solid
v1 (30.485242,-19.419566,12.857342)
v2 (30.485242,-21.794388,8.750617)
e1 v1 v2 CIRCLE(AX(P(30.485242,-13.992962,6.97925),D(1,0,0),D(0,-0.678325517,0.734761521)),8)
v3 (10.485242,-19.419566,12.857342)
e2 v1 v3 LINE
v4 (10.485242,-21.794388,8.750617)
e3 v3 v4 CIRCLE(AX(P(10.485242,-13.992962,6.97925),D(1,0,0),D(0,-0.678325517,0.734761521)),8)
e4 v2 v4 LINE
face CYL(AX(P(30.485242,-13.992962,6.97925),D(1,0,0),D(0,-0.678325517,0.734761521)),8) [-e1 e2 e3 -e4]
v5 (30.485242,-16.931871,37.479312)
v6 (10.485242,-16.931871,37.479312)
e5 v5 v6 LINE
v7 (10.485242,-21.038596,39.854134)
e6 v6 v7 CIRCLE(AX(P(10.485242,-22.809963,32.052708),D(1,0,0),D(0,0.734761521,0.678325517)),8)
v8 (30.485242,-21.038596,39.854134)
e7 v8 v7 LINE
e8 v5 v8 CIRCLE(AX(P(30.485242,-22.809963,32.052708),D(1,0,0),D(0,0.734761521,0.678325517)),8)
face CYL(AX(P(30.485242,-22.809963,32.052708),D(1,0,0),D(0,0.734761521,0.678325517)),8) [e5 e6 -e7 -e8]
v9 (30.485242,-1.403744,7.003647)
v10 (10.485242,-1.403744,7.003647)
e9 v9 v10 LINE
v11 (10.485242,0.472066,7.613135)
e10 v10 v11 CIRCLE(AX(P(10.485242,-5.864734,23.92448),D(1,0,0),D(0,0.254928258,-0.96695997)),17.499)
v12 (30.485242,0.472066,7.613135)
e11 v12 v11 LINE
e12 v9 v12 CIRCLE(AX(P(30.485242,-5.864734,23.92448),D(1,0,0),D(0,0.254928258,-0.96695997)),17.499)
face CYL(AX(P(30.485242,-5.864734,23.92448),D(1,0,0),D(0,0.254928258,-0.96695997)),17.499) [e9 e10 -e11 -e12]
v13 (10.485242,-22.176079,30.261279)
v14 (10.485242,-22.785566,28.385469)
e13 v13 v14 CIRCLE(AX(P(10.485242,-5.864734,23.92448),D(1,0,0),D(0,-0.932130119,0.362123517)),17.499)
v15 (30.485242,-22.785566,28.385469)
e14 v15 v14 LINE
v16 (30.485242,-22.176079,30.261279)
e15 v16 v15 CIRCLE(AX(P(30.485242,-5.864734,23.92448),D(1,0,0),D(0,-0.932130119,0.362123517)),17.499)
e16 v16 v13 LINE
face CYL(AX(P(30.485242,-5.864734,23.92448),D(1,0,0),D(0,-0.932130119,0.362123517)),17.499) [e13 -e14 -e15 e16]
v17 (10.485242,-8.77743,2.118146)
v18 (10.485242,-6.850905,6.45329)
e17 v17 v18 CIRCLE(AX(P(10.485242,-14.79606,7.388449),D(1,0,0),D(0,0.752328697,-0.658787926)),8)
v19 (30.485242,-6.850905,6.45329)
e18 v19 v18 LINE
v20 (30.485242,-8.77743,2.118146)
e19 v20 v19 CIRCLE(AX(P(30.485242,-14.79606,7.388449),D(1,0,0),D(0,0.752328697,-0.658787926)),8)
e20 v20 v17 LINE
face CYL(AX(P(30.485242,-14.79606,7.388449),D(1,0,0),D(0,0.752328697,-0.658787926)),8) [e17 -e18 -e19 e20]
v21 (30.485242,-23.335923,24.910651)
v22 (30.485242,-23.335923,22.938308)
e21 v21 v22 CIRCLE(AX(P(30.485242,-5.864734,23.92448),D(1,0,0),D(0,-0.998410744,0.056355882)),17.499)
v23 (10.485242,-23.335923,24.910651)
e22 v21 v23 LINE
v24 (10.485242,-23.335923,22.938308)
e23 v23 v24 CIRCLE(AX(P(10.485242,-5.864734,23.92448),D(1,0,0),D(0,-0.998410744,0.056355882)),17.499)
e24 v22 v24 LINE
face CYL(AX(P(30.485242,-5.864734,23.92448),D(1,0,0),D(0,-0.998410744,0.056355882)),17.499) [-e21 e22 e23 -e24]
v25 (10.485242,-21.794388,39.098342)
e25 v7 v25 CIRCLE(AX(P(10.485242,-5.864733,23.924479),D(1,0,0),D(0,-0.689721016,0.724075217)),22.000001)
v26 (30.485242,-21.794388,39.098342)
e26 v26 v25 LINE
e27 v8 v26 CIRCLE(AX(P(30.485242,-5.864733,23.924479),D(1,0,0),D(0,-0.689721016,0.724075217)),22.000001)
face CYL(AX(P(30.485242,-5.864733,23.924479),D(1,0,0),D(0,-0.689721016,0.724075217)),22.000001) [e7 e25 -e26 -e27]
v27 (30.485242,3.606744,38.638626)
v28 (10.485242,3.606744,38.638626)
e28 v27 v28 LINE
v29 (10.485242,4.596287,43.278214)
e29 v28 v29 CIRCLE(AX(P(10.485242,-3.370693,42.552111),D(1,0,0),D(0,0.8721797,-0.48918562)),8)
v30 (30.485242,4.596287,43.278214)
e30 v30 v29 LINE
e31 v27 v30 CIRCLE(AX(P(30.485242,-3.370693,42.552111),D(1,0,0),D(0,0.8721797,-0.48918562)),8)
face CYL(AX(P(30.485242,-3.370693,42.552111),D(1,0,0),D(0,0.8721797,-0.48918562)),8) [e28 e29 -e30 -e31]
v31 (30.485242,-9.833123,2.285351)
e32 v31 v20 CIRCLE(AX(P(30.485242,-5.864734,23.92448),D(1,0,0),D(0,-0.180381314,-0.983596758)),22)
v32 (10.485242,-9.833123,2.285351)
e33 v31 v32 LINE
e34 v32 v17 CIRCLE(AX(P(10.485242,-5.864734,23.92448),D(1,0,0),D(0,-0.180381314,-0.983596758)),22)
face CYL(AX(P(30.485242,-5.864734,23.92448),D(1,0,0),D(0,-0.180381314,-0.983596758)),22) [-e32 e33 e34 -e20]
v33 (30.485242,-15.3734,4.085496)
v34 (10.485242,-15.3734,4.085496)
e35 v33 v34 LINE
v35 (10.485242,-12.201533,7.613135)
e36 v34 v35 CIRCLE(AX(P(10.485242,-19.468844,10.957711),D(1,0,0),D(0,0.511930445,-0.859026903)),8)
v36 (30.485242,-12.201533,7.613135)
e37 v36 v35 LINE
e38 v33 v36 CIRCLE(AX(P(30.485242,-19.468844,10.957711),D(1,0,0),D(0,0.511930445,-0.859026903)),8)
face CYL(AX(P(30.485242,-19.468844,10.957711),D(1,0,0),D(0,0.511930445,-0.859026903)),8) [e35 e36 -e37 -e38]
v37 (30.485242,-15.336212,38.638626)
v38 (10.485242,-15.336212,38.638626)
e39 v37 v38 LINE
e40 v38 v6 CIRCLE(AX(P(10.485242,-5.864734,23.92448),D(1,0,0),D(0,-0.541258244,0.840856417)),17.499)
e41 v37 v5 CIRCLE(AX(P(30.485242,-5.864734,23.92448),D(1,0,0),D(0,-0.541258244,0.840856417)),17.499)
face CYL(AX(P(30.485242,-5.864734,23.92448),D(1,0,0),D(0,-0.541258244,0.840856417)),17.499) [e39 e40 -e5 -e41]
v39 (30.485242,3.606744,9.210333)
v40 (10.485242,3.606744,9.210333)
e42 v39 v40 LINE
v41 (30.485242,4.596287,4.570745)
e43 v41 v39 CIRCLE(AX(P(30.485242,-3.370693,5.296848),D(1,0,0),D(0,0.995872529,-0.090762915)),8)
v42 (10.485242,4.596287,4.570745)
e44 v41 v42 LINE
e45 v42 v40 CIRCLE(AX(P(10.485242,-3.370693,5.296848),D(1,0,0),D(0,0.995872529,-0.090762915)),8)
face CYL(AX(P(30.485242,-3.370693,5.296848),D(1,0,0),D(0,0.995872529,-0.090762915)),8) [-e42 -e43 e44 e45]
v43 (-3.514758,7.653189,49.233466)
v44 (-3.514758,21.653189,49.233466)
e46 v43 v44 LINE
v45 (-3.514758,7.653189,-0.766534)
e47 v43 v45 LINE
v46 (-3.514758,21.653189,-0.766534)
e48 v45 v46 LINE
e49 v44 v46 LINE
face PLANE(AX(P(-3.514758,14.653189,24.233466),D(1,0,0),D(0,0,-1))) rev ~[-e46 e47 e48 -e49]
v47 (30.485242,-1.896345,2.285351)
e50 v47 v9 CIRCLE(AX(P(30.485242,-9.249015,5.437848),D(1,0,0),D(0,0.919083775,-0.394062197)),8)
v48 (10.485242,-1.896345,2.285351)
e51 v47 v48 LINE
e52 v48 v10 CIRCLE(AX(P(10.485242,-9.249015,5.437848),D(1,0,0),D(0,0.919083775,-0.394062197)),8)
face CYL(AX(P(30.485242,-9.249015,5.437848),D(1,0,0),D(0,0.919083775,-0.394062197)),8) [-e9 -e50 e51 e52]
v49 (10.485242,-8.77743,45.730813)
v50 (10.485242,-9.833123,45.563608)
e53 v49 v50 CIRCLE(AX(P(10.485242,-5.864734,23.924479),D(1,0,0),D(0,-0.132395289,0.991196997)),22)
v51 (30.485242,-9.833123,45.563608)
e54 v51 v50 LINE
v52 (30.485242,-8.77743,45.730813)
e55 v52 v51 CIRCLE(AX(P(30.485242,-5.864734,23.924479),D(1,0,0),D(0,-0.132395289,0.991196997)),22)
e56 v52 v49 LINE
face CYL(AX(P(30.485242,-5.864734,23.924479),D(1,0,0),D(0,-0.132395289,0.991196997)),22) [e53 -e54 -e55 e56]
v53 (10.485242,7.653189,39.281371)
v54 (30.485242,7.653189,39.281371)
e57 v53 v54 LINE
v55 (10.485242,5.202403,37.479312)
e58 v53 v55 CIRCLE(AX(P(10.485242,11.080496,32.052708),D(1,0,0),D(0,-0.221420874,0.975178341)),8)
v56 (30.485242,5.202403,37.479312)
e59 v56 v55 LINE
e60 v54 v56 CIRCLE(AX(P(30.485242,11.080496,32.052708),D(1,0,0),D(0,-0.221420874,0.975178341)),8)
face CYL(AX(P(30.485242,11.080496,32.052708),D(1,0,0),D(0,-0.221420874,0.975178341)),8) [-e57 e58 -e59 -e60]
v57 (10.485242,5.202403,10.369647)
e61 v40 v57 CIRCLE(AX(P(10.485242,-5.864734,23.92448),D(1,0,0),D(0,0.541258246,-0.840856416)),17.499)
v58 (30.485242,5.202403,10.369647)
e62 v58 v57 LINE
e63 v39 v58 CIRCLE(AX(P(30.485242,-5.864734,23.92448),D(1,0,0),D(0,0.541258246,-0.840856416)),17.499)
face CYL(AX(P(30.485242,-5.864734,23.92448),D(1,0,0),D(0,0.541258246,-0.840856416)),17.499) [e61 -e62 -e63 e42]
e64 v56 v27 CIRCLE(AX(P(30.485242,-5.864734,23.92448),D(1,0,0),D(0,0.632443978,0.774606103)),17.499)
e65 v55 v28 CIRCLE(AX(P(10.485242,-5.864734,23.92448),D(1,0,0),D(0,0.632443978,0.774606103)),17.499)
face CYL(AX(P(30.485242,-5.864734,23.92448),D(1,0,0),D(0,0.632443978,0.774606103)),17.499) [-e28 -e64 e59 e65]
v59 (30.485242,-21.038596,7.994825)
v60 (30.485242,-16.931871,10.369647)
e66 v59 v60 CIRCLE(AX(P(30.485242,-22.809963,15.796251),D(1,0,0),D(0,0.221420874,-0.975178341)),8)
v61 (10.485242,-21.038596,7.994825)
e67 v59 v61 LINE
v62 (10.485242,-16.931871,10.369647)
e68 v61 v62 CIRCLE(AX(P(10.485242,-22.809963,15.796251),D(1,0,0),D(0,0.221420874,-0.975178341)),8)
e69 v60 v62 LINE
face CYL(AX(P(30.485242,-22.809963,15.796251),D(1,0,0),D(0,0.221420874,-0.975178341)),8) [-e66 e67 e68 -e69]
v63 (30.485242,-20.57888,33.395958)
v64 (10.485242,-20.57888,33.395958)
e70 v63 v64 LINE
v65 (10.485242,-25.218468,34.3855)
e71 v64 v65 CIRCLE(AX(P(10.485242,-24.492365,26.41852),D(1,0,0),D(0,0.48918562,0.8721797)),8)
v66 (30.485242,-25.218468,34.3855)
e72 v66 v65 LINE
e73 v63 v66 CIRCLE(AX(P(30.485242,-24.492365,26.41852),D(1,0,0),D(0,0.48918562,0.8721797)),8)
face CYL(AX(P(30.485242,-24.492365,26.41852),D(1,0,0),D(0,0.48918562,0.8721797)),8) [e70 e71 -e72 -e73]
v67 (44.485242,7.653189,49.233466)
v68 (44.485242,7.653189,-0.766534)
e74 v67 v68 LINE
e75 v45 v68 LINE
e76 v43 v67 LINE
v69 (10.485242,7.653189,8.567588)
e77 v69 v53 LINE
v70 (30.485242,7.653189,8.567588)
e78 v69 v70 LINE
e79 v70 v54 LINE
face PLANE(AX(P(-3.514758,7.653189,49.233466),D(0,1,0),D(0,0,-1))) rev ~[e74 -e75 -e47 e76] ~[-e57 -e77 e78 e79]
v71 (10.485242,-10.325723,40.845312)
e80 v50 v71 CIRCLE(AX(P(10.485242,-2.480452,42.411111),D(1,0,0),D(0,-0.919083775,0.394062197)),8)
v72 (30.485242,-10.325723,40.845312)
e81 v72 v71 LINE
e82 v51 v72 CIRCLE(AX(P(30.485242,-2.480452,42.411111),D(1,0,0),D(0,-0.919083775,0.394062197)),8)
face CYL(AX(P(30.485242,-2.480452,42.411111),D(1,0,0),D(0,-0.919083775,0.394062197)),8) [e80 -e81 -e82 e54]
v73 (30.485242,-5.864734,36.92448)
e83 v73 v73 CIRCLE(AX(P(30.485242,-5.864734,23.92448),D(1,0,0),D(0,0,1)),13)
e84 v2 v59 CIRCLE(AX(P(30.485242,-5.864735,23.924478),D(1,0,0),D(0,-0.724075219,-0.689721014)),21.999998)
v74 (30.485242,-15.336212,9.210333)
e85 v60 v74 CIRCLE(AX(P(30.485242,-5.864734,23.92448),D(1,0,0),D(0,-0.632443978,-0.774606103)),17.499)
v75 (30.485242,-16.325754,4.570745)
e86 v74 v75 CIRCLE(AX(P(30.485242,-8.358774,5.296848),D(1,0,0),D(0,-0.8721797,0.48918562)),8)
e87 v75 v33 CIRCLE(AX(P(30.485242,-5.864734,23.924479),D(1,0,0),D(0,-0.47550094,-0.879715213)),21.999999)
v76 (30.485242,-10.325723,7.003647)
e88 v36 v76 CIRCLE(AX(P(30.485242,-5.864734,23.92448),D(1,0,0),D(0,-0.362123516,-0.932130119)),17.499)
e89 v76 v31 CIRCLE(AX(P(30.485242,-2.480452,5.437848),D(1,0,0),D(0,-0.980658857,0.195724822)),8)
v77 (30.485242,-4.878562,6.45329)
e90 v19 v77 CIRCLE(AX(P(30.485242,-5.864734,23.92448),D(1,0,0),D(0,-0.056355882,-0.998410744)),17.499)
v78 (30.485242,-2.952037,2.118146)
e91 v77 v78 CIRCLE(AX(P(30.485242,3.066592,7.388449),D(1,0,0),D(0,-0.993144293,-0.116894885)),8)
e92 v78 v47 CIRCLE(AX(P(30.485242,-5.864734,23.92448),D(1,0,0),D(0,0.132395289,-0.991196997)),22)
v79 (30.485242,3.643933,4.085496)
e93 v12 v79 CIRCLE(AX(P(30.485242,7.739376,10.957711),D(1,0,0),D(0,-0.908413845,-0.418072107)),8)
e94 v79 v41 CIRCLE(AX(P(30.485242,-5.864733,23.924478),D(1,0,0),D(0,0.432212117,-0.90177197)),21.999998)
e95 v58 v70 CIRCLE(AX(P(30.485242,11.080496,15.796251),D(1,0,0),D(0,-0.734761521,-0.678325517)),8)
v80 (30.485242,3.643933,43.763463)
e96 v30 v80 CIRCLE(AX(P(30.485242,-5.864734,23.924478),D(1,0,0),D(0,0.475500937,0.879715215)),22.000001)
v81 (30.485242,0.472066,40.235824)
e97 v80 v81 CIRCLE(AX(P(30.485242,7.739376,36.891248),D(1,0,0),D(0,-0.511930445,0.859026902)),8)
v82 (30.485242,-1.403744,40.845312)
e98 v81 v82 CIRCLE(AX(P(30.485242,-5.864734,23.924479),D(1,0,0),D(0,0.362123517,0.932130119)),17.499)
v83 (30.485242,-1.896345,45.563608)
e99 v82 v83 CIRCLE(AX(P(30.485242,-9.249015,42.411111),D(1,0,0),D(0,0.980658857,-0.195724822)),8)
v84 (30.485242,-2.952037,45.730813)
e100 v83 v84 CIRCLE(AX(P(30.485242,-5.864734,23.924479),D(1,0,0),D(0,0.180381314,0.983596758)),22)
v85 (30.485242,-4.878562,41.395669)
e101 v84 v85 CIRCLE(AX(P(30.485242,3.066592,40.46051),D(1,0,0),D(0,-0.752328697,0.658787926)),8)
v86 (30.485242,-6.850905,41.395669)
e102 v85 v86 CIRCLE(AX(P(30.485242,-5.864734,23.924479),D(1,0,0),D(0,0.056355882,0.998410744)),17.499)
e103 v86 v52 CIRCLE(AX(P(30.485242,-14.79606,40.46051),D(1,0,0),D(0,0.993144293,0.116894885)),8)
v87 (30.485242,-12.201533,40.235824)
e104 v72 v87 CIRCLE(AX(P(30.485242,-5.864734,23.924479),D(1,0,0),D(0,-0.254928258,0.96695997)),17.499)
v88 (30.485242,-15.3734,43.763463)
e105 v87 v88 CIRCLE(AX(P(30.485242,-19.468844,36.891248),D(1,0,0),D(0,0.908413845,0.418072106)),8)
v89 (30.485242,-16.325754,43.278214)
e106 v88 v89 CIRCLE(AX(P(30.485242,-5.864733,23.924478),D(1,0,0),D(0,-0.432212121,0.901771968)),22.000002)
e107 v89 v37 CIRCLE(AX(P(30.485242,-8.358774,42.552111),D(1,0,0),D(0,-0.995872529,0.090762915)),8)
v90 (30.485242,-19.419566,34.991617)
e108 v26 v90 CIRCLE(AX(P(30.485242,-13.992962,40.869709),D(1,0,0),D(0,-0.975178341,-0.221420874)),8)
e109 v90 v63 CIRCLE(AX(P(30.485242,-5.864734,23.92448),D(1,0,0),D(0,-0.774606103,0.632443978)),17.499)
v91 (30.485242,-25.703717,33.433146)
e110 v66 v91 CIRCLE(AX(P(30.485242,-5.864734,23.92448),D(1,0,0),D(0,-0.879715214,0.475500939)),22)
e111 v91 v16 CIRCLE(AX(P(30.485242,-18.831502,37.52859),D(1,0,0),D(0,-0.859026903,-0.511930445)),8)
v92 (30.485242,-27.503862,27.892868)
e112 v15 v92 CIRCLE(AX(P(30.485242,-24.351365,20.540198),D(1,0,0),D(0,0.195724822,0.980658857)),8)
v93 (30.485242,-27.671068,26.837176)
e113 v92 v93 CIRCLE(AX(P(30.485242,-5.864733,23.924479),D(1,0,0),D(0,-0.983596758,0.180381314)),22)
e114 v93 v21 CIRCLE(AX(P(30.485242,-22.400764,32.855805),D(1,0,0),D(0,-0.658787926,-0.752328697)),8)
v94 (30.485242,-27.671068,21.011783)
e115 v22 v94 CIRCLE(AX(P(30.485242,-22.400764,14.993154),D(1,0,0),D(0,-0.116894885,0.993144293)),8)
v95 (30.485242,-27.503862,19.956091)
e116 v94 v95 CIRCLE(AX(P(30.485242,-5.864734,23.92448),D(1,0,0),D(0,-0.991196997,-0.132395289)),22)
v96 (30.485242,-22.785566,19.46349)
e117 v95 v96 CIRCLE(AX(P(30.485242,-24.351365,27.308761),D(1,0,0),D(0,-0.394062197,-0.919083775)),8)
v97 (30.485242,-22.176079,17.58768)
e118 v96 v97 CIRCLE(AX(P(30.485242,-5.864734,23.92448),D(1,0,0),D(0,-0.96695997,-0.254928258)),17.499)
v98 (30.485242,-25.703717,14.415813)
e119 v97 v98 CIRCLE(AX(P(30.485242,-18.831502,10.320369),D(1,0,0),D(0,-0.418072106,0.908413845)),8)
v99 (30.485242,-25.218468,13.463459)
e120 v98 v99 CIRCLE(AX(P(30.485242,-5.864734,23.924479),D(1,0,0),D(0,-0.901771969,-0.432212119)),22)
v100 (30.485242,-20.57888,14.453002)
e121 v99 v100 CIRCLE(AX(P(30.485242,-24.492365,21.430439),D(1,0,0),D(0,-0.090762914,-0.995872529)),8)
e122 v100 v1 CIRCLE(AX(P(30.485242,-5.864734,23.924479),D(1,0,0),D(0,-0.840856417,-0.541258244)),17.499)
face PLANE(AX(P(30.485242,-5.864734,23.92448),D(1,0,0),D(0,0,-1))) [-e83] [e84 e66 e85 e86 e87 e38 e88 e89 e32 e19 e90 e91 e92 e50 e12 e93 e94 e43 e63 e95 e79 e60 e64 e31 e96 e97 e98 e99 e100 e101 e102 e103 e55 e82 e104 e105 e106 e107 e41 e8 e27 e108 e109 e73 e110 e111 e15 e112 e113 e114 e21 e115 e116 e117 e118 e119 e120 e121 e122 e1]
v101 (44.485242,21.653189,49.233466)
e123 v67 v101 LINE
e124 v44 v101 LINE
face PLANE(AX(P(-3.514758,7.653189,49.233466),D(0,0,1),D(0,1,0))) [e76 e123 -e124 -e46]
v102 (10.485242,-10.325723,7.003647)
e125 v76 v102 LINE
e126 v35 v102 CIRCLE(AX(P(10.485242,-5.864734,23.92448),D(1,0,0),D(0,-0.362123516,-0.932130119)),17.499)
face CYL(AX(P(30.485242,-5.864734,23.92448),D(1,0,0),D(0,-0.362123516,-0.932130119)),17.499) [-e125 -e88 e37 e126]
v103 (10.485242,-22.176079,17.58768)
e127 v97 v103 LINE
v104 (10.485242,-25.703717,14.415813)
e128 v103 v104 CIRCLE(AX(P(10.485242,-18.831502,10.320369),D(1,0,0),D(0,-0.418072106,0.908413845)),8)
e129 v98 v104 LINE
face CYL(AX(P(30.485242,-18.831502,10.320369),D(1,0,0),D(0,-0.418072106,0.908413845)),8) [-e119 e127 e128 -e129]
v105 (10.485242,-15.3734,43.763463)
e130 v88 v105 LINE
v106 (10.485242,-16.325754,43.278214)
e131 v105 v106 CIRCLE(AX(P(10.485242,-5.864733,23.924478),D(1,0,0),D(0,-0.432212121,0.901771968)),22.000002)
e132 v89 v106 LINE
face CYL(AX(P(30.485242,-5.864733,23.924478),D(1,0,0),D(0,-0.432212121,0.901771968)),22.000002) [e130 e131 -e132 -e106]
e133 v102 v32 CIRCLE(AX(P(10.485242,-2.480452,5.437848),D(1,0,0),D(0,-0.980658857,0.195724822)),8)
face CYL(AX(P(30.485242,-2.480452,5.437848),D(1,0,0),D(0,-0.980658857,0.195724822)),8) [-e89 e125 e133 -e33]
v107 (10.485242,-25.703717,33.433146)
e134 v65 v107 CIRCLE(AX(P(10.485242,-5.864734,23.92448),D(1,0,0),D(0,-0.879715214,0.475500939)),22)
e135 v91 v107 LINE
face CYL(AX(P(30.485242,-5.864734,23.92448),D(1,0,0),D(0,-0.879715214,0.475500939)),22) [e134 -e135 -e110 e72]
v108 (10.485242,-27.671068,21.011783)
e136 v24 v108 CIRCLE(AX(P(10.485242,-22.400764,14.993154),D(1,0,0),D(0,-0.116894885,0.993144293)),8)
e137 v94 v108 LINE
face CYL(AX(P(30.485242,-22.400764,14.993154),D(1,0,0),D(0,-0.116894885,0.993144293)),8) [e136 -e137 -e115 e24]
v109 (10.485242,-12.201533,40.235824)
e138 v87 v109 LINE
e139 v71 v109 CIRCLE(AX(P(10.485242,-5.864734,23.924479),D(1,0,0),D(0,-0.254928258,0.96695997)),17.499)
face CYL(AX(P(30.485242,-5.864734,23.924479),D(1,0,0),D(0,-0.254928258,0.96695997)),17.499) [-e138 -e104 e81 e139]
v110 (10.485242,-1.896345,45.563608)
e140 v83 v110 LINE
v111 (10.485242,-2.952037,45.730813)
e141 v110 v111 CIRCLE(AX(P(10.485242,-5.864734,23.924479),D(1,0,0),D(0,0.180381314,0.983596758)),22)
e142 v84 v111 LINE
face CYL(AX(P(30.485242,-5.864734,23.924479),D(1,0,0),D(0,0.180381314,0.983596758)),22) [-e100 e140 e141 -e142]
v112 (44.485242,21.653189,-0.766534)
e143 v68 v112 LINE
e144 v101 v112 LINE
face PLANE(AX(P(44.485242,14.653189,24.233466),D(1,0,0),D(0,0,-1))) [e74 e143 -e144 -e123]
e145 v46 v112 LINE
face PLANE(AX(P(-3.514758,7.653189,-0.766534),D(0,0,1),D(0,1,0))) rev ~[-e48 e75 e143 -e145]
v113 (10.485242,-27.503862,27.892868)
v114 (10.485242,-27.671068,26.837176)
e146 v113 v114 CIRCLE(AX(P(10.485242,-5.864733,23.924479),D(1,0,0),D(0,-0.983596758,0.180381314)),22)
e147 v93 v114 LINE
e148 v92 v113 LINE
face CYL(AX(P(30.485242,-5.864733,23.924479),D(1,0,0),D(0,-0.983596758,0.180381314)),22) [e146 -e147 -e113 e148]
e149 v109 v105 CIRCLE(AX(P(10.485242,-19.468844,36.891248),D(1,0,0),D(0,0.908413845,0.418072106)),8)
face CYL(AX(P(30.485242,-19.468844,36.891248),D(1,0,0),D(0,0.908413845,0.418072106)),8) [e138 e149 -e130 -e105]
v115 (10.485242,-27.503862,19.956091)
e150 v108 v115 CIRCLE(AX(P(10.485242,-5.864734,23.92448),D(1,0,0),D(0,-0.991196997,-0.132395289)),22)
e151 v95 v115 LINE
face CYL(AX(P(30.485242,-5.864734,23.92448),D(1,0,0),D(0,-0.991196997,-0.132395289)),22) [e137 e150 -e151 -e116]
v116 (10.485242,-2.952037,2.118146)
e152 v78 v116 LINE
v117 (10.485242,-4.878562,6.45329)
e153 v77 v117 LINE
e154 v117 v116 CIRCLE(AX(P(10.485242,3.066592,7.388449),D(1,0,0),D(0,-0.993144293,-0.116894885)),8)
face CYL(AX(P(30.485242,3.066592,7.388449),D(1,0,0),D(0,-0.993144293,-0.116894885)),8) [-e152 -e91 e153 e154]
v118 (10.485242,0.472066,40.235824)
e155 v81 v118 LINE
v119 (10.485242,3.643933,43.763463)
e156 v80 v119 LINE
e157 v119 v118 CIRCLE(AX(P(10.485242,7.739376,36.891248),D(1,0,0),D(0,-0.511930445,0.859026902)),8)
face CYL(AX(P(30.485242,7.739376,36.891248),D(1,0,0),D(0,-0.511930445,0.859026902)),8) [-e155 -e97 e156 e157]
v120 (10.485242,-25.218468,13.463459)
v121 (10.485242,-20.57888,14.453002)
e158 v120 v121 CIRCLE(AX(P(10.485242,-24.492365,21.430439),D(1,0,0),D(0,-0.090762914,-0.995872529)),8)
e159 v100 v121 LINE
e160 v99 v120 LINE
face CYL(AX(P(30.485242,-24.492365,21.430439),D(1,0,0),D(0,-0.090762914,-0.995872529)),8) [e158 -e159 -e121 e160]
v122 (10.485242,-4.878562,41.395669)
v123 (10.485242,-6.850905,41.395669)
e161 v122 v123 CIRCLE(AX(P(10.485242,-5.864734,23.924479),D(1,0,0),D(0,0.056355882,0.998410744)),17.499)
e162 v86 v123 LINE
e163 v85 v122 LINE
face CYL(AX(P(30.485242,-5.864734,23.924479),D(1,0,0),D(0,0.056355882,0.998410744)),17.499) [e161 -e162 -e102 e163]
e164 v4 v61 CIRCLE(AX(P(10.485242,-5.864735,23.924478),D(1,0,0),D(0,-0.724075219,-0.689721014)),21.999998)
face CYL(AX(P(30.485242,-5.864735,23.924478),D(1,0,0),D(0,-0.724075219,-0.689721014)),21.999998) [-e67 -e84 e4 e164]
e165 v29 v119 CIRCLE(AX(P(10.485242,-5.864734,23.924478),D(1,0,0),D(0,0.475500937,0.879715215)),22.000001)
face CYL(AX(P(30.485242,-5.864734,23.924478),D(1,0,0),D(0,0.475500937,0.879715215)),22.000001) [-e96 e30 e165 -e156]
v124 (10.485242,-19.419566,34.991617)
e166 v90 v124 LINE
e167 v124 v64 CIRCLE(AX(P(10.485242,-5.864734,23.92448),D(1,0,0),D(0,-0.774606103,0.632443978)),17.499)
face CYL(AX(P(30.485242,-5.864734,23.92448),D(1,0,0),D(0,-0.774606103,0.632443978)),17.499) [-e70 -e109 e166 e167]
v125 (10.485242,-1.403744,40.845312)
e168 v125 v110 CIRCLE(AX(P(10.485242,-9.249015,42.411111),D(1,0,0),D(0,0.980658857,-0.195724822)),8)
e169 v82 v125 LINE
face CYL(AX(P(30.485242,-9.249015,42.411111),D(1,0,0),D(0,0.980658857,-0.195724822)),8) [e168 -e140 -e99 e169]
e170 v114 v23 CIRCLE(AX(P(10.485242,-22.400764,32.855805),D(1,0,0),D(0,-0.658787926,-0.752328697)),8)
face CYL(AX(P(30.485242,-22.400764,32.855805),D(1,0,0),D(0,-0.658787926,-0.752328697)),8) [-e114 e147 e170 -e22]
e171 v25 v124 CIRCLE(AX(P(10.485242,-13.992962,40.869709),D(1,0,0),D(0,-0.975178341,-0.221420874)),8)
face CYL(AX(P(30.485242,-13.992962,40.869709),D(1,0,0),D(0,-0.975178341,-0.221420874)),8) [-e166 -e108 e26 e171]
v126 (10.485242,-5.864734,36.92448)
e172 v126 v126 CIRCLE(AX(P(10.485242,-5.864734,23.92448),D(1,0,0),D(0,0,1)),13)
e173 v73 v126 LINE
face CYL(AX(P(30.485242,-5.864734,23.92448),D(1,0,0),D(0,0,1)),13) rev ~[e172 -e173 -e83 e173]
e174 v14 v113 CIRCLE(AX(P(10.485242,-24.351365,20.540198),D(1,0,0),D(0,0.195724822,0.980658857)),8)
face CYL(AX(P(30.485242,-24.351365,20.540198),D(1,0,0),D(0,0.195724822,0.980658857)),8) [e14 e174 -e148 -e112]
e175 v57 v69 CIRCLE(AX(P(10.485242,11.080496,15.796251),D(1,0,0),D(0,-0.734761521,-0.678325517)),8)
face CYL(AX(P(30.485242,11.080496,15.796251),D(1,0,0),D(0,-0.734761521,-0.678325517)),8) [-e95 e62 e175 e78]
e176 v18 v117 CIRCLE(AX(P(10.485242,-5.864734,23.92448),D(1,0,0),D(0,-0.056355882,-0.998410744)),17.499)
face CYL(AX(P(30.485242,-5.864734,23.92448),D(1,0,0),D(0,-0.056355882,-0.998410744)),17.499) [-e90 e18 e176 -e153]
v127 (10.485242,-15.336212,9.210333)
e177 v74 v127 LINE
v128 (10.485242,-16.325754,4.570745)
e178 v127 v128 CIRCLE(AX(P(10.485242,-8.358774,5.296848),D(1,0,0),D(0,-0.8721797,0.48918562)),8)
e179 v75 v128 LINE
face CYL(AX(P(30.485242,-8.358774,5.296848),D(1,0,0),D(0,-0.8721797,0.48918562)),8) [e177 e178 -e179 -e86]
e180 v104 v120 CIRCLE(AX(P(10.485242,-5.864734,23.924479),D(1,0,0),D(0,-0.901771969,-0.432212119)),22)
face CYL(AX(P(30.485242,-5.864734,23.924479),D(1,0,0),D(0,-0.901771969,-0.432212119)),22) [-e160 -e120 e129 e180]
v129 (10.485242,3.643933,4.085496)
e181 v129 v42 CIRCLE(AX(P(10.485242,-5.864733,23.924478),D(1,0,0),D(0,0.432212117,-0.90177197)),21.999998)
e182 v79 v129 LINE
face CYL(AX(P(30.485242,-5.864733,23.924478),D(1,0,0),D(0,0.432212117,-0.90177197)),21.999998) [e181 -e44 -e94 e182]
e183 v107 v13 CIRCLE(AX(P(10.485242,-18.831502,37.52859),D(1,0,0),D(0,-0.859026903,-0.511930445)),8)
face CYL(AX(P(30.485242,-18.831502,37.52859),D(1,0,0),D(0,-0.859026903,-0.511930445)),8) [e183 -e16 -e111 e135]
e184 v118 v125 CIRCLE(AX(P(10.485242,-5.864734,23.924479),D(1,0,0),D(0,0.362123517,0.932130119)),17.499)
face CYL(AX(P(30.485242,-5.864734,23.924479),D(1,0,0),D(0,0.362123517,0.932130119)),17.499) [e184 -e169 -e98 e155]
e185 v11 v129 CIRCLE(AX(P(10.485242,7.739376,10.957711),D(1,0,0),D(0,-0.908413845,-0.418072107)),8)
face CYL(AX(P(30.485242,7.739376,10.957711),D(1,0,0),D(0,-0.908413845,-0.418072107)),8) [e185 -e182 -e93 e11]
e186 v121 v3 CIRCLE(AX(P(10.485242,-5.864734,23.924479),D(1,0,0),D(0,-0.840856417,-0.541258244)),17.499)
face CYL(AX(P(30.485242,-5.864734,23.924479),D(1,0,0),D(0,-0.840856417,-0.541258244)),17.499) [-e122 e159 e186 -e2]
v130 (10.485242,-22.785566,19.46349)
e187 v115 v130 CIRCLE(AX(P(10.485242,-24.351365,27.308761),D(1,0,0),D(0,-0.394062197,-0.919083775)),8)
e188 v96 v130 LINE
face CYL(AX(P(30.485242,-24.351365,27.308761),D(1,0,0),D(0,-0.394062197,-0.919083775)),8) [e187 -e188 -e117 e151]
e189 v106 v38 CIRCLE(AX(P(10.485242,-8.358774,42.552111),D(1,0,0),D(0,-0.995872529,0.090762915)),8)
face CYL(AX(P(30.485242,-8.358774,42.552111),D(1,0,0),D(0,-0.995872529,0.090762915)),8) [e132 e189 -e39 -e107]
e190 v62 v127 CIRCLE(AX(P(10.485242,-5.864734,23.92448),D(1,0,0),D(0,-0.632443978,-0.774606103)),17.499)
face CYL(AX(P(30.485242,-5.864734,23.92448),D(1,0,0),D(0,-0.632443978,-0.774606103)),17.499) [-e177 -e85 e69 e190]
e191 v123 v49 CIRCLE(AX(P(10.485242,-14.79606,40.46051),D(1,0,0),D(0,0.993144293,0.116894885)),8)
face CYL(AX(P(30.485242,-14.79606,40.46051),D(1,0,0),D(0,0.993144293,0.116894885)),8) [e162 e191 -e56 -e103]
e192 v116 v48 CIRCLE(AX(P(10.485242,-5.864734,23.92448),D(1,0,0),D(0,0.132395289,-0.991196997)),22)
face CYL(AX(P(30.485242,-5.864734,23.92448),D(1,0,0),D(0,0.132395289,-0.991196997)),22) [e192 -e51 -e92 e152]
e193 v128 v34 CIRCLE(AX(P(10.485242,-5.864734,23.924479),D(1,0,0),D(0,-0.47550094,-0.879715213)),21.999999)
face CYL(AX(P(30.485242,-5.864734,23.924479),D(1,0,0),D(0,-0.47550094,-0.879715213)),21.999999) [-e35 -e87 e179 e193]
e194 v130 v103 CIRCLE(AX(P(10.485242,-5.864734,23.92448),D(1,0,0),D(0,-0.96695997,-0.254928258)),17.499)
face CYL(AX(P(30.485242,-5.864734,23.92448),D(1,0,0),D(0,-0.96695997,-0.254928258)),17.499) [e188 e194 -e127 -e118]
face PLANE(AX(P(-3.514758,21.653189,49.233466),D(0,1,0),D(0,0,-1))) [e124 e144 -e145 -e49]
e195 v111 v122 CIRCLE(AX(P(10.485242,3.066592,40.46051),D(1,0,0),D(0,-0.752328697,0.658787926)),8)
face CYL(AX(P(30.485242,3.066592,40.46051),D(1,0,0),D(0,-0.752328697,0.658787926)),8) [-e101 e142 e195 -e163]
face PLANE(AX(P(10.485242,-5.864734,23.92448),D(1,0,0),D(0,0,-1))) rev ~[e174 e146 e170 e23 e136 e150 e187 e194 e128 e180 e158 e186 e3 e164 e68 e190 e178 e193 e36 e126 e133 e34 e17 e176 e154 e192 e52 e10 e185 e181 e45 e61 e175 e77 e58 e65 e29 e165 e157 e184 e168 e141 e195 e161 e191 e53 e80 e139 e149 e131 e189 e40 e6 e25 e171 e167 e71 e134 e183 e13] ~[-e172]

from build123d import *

# Parameters (mm, degrees)
SKETCH1_R                = 13
BOSS_EXTRUDE1_DEPTH      = 20
BOSS_EXTRUDE2_DEPTH      = 14
BOSS_EXTRUDE2_DEPTH_BACK = 34
SKETCH2_W                = 50
SKETCH2_H                = 14


with BuildPart() as part:
    # Sketch1 → Boss-Extrude1 (new body)
    with BuildSketch(Plane(origin=(30.485241984, 0, 0), x_dir=(0, 0, -1), z_dir=(1, 0, 0))):
        with BuildLine():
            ThreePointArc((-45.730813467, -2.952037332), (-43.709327628, -4.244029096), (-41.395669142, -4.878562094))
            ThreePointArc((-41.395669142, -4.878562094), (-41.423479526, -5.864733686), (-41.395669142, -6.850905277))
            ThreePointArc((-41.395669142, -6.850905277), (-43.709327628, -7.485438275), (-45.730813467, -8.777430039))
            ThreePointArc((-45.730813467, -8.777430039), (-45.653623019, -9.306291917), (-45.56360819, -9.833122612))
            ThreePointArc((-45.56360819, -9.833122612), (-43.241813498, -10.43720632), (-40.845312039, -10.325723271))
            ThreePointArc((-40.845312039, -10.325723271), (-40.567017505, -11.27222207), (-40.235824477, -12.201533107))
            ThreePointArc((-40.235824477, -12.201533107), (-42.240162977, -13.519969641), (-43.763462845, -15.373400306))
            ThreePointArc((-43.763462845, -15.373400306), (-43.526623058, -15.85252468), (-43.278214231, -16.325754333))
            ThreePointArc((-43.278214231, -16.325754333), (-40.883384128, -16.182798063), (-38.638625955, -15.336211705))
            ThreePointArc((-38.638625955, -15.336211705), (-38.081467911, -16.150387816), (-37.47931172, -16.931870859))
            ThreePointArc((-37.47931172, -16.931870859), (-38.978131616, -18.805153175), (-39.854134309, -21.038596032))
            ThreePointArc((-39.854134309, -21.038596032), (-39.480828712, -21.421082872), (-39.098341873, -21.794388468))
            ThreePointArc((-39.098341873, -21.794388468), (-36.864899015, -20.918385775), (-34.991616699, -19.419565879))
            ThreePointArc((-34.991616699, -19.419565879), (-34.210133656, -20.02172207), (-33.395957546, -20.578880114))
            ThreePointArc((-33.395957546, -20.578880114), (-34.242543904, -22.823638287), (-34.385500174, -25.21846839))
            ThreePointArc((-34.385500174, -25.21846839), (-33.91227052, -25.466877218), (-33.433146146, -25.703717004))
            ThreePointArc((-33.433146146, -25.703717004), (-31.579715481, -24.180417136), (-30.261278947, -22.176078636))
            ThreePointArc((-30.261278947, -22.176078636), (-29.331967911, -22.507271664), (-28.385469111, -22.785566198))
            ThreePointArc((-28.385469111, -22.785566198), (-28.49695216, -25.182067658), (-27.892868452, -27.50386235))
            ThreePointArc((-27.892868452, -27.50386235), (-27.366037757, -27.593877179), (-26.83717588, -27.671067627))
            ThreePointArc((-26.83717588, -27.671067627), (-25.545184115, -25.649581788), (-24.910651117, -23.335923302))
            ThreePointArc((-24.910651117, -23.335923302), (-23.924479526, -23.363733686), (-22.938307935, -23.335923302))
            ThreePointArc((-22.938307935, -23.335923302), (-22.303774937, -25.649581788), (-21.011783173, -27.671067627))
            ThreePointArc((-21.011783173, -27.671067627), (-20.482921295, -27.593877179), (-19.9560906, -27.50386235))
            ThreePointArc((-19.9560906, -27.50386235), (-19.352006892, -25.182067658), (-19.463489941, -22.785566198))
            ThreePointArc((-19.463489941, -22.785566198), (-18.516991142, -22.507271664), (-17.587680105, -22.176078636))
            ThreePointArc((-17.587680105, -22.176078636), (-16.269243571, -24.180417136), (-14.415812906, -25.703717004))
            ThreePointArc((-14.415812906, -25.703717004), (-13.936688532, -25.466877218), (-13.463458878, -25.21846839))
            ThreePointArc((-13.463458878, -25.21846839), (-13.606415149, -22.823638287), (-14.453001507, -20.578880114))
            ThreePointArc((-14.453001507, -20.578880114), (-13.638825396, -20.02172207), (-12.857342353, -19.419565879))
            ThreePointArc((-12.857342353, -19.419565879), (-10.984060037, -20.918385775), (-8.75061718, -21.794388468))
            ThreePointArc((-8.75061718, -21.794388468), (-8.36813034, -21.421082872), (-7.994824744, -21.038596032))
            ThreePointArc((-7.994824744, -21.038596032), (-8.870827436, -18.805153175), (-10.369647333, -16.931870859))
            ThreePointArc((-10.369647333, -16.931870859), (-9.767491142, -16.150387816), (-9.210333097, -15.336211705))
            ThreePointArc((-9.210333097, -15.336211705), (-6.965574925, -16.182798063), (-4.570744822, -16.325754333))
            ThreePointArc((-4.570744822, -16.325754333), (-4.322335994, -15.85252468), (-4.085496208, -15.373400306))
            ThreePointArc((-4.085496208, -15.373400306), (-5.608796076, -13.519969641), (-7.613134576, -12.201533107))
            ThreePointArc((-7.613134576, -12.201533107), (-7.281941548, -11.27222207), (-7.003647014, -10.325723271))
            ThreePointArc((-7.003647014, -10.325723271), (-4.607145554, -10.43720632), (-2.285350862, -9.833122612))
            ThreePointArc((-2.285350862, -9.833122612), (-2.195336033, -9.306291917), (-2.118145585, -8.777430039))
            ThreePointArc((-2.118145585, -8.777430039), (-4.139631424, -7.485438275), (-6.45328991, -6.850905277))
            ThreePointArc((-6.45328991, -6.850905277), (-6.425479526, -5.864733686), (-6.45328991, -4.878562094))
            ThreePointArc((-6.45328991, -4.878562094), (-4.139631424, -4.244029096), (-2.118145585, -2.952037332))
            ThreePointArc((-2.118145585, -2.952037332), (-2.195336033, -2.423175455), (-2.285350862, -1.89634476))
            ThreePointArc((-2.285350862, -1.89634476), (-4.607145554, -1.292261052), (-7.003647014, -1.403744101))
            ThreePointArc((-7.003647014, -1.403744101), (-7.281941548, -0.457245301), (-7.613134576, 0.472065736))
            ThreePointArc((-7.613134576, 0.472065736), (-5.608796076, 1.79050227), (-4.085496208, 3.643932934))
            ThreePointArc((-4.085496208, 3.643932934), (-4.322335994, 4.123057309), (-4.570744822, 4.596286962))
            ThreePointArc((-4.570744822, 4.596286962), (-6.965574925, 4.453330692), (-9.210333097, 3.606744334))
            ThreePointArc((-9.210333097, 3.606744334), (-9.767491142, 4.420920444), (-10.369647333, 5.202403487))
            ThreePointArc((-10.369647333, 5.202403487), (-8.870827436, 7.075685803), (-7.994824744, 9.309128661))
            ThreePointArc((-7.994824744, 9.309128661), (-8.36813034, 9.6916155), (-8.75061718, 10.064921097))
            ThreePointArc((-8.75061718, 10.064921097), (-10.984060037, 9.188918404), (-12.857342353, 7.690098508))
            ThreePointArc((-12.857342353, 7.690098508), (-13.638825396, 8.292254699), (-14.453001507, 8.849412743))
            ThreePointArc((-14.453001507, 8.849412743), (-13.606415149, 11.094170916), (-13.463458878, 13.489001019))
            ThreePointArc((-13.463458878, 13.489001019), (-13.936688532, 13.737409846), (-14.415812906, 13.974249633))
            ThreePointArc((-14.415812906, 13.974249633), (-16.269243571, 12.450949765), (-17.587680105, 10.446611265))
            ThreePointArc((-17.587680105, 10.446611265), (-18.516991142, 10.777804293), (-19.463489941, 11.056098827))
            ThreePointArc((-19.463489941, 11.056098827), (-19.352006892, 13.452600287), (-19.9560906, 15.774394978))
            ThreePointArc((-19.9560906, 15.774394978), (-20.482921295, 15.864409807), (-21.011783173, 15.941600255))
            ThreePointArc((-21.011783173, 15.941600255), (-22.303774937, 13.920114416), (-22.938307935, 11.60645593))
            ThreePointArc((-22.938307935, 11.60645593), (-23.924479526, 11.634266314), (-24.910651117, 11.60645593))
            ThreePointArc((-24.910651117, 11.60645593), (-25.545184115, 13.920114416), (-26.83717588, 15.941600255))
            ThreePointArc((-26.83717588, 15.941600255), (-27.366037757, 15.864409807), (-27.892868452, 15.774394978))
            ThreePointArc((-27.892868452, 15.774394978), (-28.49695216, 13.452600287), (-28.385469111, 11.056098827))
            ThreePointArc((-28.385469111, 11.056098827), (-29.331967911, 10.777804293), (-30.261278947, 10.446611265))
            ThreePointArc((-30.261278947, 10.446611265), (-31.579715481, 12.450949765), (-33.433146146, 13.974249633))
            ThreePointArc((-33.433146146, 13.974249633), (-33.91227052, 13.737409846), (-34.385500174, 13.489001019))
            ThreePointArc((-34.385500174, 13.489001019), (-34.242543904, 11.094170916), (-33.395957546, 8.849412743))
            ThreePointArc((-33.395957546, 8.849412743), (-34.210133656, 8.292254699), (-34.991616699, 7.690098508))
            ThreePointArc((-34.991616699, 7.690098508), (-36.864899015, 9.188918404), (-39.098341873, 10.064921097))
            ThreePointArc((-39.098341873, 10.064921097), (-39.480828712, 9.6916155), (-39.854134309, 9.309128661))
            ThreePointArc((-39.854134309, 9.309128661), (-38.978131616, 7.075685803), (-37.47931172, 5.202403487))
            ThreePointArc((-37.47931172, 5.202403487), (-38.081467911, 4.420920444), (-38.638625955, 3.606744334))
            ThreePointArc((-38.638625955, 3.606744334), (-40.883384128, 4.453330692), (-43.278214231, 4.596286962))
            ThreePointArc((-43.278214231, 4.596286962), (-43.526623058, 4.123057309), (-43.763462845, 3.643932934))
            ThreePointArc((-43.763462845, 3.643932934), (-42.240162977, 1.79050227), (-40.235824477, 0.472065736))
            ThreePointArc((-40.235824477, 0.472065736), (-40.567017505, -0.457245301), (-40.845312039, -1.403744101))
            ThreePointArc((-40.845312039, -1.403744101), (-43.241813498, -1.292261052), (-45.56360819, -1.89634476))
            ThreePointArc((-45.56360819, -1.89634476), (-45.653623019, -2.423175455), (-45.730813467, -2.952037332))
        make_face()
        with Locations(Location((-23.924479526, -5.864733686, 0), (0, 0, 180))):
            Circle(SKETCH1_R, mode=Mode.SUBTRACT)
    extrude(amount=-BOSS_EXTRUDE1_DEPTH)

    # Sketch2 → Boss-Extrude2 (add, two sides: drawn at the far end of the back side and taken through both)
    with BuildSketch(Plane(origin=(30.485241984, 0, 0), x_dir=(0, 0, -1), z_dir=(1, 0, 0)).offset(-BOSS_EXTRUDE2_DEPTH_BACK)):
        with Locations((-24.233465749, 14.653188973)):
            Rectangle(SKETCH2_W, SKETCH2_H)
    extrude(amount=BOSS_EXTRUDE2_DEPTH + BOSS_EXTRUDE2_DEPTH_BACK)


solid = part.part
